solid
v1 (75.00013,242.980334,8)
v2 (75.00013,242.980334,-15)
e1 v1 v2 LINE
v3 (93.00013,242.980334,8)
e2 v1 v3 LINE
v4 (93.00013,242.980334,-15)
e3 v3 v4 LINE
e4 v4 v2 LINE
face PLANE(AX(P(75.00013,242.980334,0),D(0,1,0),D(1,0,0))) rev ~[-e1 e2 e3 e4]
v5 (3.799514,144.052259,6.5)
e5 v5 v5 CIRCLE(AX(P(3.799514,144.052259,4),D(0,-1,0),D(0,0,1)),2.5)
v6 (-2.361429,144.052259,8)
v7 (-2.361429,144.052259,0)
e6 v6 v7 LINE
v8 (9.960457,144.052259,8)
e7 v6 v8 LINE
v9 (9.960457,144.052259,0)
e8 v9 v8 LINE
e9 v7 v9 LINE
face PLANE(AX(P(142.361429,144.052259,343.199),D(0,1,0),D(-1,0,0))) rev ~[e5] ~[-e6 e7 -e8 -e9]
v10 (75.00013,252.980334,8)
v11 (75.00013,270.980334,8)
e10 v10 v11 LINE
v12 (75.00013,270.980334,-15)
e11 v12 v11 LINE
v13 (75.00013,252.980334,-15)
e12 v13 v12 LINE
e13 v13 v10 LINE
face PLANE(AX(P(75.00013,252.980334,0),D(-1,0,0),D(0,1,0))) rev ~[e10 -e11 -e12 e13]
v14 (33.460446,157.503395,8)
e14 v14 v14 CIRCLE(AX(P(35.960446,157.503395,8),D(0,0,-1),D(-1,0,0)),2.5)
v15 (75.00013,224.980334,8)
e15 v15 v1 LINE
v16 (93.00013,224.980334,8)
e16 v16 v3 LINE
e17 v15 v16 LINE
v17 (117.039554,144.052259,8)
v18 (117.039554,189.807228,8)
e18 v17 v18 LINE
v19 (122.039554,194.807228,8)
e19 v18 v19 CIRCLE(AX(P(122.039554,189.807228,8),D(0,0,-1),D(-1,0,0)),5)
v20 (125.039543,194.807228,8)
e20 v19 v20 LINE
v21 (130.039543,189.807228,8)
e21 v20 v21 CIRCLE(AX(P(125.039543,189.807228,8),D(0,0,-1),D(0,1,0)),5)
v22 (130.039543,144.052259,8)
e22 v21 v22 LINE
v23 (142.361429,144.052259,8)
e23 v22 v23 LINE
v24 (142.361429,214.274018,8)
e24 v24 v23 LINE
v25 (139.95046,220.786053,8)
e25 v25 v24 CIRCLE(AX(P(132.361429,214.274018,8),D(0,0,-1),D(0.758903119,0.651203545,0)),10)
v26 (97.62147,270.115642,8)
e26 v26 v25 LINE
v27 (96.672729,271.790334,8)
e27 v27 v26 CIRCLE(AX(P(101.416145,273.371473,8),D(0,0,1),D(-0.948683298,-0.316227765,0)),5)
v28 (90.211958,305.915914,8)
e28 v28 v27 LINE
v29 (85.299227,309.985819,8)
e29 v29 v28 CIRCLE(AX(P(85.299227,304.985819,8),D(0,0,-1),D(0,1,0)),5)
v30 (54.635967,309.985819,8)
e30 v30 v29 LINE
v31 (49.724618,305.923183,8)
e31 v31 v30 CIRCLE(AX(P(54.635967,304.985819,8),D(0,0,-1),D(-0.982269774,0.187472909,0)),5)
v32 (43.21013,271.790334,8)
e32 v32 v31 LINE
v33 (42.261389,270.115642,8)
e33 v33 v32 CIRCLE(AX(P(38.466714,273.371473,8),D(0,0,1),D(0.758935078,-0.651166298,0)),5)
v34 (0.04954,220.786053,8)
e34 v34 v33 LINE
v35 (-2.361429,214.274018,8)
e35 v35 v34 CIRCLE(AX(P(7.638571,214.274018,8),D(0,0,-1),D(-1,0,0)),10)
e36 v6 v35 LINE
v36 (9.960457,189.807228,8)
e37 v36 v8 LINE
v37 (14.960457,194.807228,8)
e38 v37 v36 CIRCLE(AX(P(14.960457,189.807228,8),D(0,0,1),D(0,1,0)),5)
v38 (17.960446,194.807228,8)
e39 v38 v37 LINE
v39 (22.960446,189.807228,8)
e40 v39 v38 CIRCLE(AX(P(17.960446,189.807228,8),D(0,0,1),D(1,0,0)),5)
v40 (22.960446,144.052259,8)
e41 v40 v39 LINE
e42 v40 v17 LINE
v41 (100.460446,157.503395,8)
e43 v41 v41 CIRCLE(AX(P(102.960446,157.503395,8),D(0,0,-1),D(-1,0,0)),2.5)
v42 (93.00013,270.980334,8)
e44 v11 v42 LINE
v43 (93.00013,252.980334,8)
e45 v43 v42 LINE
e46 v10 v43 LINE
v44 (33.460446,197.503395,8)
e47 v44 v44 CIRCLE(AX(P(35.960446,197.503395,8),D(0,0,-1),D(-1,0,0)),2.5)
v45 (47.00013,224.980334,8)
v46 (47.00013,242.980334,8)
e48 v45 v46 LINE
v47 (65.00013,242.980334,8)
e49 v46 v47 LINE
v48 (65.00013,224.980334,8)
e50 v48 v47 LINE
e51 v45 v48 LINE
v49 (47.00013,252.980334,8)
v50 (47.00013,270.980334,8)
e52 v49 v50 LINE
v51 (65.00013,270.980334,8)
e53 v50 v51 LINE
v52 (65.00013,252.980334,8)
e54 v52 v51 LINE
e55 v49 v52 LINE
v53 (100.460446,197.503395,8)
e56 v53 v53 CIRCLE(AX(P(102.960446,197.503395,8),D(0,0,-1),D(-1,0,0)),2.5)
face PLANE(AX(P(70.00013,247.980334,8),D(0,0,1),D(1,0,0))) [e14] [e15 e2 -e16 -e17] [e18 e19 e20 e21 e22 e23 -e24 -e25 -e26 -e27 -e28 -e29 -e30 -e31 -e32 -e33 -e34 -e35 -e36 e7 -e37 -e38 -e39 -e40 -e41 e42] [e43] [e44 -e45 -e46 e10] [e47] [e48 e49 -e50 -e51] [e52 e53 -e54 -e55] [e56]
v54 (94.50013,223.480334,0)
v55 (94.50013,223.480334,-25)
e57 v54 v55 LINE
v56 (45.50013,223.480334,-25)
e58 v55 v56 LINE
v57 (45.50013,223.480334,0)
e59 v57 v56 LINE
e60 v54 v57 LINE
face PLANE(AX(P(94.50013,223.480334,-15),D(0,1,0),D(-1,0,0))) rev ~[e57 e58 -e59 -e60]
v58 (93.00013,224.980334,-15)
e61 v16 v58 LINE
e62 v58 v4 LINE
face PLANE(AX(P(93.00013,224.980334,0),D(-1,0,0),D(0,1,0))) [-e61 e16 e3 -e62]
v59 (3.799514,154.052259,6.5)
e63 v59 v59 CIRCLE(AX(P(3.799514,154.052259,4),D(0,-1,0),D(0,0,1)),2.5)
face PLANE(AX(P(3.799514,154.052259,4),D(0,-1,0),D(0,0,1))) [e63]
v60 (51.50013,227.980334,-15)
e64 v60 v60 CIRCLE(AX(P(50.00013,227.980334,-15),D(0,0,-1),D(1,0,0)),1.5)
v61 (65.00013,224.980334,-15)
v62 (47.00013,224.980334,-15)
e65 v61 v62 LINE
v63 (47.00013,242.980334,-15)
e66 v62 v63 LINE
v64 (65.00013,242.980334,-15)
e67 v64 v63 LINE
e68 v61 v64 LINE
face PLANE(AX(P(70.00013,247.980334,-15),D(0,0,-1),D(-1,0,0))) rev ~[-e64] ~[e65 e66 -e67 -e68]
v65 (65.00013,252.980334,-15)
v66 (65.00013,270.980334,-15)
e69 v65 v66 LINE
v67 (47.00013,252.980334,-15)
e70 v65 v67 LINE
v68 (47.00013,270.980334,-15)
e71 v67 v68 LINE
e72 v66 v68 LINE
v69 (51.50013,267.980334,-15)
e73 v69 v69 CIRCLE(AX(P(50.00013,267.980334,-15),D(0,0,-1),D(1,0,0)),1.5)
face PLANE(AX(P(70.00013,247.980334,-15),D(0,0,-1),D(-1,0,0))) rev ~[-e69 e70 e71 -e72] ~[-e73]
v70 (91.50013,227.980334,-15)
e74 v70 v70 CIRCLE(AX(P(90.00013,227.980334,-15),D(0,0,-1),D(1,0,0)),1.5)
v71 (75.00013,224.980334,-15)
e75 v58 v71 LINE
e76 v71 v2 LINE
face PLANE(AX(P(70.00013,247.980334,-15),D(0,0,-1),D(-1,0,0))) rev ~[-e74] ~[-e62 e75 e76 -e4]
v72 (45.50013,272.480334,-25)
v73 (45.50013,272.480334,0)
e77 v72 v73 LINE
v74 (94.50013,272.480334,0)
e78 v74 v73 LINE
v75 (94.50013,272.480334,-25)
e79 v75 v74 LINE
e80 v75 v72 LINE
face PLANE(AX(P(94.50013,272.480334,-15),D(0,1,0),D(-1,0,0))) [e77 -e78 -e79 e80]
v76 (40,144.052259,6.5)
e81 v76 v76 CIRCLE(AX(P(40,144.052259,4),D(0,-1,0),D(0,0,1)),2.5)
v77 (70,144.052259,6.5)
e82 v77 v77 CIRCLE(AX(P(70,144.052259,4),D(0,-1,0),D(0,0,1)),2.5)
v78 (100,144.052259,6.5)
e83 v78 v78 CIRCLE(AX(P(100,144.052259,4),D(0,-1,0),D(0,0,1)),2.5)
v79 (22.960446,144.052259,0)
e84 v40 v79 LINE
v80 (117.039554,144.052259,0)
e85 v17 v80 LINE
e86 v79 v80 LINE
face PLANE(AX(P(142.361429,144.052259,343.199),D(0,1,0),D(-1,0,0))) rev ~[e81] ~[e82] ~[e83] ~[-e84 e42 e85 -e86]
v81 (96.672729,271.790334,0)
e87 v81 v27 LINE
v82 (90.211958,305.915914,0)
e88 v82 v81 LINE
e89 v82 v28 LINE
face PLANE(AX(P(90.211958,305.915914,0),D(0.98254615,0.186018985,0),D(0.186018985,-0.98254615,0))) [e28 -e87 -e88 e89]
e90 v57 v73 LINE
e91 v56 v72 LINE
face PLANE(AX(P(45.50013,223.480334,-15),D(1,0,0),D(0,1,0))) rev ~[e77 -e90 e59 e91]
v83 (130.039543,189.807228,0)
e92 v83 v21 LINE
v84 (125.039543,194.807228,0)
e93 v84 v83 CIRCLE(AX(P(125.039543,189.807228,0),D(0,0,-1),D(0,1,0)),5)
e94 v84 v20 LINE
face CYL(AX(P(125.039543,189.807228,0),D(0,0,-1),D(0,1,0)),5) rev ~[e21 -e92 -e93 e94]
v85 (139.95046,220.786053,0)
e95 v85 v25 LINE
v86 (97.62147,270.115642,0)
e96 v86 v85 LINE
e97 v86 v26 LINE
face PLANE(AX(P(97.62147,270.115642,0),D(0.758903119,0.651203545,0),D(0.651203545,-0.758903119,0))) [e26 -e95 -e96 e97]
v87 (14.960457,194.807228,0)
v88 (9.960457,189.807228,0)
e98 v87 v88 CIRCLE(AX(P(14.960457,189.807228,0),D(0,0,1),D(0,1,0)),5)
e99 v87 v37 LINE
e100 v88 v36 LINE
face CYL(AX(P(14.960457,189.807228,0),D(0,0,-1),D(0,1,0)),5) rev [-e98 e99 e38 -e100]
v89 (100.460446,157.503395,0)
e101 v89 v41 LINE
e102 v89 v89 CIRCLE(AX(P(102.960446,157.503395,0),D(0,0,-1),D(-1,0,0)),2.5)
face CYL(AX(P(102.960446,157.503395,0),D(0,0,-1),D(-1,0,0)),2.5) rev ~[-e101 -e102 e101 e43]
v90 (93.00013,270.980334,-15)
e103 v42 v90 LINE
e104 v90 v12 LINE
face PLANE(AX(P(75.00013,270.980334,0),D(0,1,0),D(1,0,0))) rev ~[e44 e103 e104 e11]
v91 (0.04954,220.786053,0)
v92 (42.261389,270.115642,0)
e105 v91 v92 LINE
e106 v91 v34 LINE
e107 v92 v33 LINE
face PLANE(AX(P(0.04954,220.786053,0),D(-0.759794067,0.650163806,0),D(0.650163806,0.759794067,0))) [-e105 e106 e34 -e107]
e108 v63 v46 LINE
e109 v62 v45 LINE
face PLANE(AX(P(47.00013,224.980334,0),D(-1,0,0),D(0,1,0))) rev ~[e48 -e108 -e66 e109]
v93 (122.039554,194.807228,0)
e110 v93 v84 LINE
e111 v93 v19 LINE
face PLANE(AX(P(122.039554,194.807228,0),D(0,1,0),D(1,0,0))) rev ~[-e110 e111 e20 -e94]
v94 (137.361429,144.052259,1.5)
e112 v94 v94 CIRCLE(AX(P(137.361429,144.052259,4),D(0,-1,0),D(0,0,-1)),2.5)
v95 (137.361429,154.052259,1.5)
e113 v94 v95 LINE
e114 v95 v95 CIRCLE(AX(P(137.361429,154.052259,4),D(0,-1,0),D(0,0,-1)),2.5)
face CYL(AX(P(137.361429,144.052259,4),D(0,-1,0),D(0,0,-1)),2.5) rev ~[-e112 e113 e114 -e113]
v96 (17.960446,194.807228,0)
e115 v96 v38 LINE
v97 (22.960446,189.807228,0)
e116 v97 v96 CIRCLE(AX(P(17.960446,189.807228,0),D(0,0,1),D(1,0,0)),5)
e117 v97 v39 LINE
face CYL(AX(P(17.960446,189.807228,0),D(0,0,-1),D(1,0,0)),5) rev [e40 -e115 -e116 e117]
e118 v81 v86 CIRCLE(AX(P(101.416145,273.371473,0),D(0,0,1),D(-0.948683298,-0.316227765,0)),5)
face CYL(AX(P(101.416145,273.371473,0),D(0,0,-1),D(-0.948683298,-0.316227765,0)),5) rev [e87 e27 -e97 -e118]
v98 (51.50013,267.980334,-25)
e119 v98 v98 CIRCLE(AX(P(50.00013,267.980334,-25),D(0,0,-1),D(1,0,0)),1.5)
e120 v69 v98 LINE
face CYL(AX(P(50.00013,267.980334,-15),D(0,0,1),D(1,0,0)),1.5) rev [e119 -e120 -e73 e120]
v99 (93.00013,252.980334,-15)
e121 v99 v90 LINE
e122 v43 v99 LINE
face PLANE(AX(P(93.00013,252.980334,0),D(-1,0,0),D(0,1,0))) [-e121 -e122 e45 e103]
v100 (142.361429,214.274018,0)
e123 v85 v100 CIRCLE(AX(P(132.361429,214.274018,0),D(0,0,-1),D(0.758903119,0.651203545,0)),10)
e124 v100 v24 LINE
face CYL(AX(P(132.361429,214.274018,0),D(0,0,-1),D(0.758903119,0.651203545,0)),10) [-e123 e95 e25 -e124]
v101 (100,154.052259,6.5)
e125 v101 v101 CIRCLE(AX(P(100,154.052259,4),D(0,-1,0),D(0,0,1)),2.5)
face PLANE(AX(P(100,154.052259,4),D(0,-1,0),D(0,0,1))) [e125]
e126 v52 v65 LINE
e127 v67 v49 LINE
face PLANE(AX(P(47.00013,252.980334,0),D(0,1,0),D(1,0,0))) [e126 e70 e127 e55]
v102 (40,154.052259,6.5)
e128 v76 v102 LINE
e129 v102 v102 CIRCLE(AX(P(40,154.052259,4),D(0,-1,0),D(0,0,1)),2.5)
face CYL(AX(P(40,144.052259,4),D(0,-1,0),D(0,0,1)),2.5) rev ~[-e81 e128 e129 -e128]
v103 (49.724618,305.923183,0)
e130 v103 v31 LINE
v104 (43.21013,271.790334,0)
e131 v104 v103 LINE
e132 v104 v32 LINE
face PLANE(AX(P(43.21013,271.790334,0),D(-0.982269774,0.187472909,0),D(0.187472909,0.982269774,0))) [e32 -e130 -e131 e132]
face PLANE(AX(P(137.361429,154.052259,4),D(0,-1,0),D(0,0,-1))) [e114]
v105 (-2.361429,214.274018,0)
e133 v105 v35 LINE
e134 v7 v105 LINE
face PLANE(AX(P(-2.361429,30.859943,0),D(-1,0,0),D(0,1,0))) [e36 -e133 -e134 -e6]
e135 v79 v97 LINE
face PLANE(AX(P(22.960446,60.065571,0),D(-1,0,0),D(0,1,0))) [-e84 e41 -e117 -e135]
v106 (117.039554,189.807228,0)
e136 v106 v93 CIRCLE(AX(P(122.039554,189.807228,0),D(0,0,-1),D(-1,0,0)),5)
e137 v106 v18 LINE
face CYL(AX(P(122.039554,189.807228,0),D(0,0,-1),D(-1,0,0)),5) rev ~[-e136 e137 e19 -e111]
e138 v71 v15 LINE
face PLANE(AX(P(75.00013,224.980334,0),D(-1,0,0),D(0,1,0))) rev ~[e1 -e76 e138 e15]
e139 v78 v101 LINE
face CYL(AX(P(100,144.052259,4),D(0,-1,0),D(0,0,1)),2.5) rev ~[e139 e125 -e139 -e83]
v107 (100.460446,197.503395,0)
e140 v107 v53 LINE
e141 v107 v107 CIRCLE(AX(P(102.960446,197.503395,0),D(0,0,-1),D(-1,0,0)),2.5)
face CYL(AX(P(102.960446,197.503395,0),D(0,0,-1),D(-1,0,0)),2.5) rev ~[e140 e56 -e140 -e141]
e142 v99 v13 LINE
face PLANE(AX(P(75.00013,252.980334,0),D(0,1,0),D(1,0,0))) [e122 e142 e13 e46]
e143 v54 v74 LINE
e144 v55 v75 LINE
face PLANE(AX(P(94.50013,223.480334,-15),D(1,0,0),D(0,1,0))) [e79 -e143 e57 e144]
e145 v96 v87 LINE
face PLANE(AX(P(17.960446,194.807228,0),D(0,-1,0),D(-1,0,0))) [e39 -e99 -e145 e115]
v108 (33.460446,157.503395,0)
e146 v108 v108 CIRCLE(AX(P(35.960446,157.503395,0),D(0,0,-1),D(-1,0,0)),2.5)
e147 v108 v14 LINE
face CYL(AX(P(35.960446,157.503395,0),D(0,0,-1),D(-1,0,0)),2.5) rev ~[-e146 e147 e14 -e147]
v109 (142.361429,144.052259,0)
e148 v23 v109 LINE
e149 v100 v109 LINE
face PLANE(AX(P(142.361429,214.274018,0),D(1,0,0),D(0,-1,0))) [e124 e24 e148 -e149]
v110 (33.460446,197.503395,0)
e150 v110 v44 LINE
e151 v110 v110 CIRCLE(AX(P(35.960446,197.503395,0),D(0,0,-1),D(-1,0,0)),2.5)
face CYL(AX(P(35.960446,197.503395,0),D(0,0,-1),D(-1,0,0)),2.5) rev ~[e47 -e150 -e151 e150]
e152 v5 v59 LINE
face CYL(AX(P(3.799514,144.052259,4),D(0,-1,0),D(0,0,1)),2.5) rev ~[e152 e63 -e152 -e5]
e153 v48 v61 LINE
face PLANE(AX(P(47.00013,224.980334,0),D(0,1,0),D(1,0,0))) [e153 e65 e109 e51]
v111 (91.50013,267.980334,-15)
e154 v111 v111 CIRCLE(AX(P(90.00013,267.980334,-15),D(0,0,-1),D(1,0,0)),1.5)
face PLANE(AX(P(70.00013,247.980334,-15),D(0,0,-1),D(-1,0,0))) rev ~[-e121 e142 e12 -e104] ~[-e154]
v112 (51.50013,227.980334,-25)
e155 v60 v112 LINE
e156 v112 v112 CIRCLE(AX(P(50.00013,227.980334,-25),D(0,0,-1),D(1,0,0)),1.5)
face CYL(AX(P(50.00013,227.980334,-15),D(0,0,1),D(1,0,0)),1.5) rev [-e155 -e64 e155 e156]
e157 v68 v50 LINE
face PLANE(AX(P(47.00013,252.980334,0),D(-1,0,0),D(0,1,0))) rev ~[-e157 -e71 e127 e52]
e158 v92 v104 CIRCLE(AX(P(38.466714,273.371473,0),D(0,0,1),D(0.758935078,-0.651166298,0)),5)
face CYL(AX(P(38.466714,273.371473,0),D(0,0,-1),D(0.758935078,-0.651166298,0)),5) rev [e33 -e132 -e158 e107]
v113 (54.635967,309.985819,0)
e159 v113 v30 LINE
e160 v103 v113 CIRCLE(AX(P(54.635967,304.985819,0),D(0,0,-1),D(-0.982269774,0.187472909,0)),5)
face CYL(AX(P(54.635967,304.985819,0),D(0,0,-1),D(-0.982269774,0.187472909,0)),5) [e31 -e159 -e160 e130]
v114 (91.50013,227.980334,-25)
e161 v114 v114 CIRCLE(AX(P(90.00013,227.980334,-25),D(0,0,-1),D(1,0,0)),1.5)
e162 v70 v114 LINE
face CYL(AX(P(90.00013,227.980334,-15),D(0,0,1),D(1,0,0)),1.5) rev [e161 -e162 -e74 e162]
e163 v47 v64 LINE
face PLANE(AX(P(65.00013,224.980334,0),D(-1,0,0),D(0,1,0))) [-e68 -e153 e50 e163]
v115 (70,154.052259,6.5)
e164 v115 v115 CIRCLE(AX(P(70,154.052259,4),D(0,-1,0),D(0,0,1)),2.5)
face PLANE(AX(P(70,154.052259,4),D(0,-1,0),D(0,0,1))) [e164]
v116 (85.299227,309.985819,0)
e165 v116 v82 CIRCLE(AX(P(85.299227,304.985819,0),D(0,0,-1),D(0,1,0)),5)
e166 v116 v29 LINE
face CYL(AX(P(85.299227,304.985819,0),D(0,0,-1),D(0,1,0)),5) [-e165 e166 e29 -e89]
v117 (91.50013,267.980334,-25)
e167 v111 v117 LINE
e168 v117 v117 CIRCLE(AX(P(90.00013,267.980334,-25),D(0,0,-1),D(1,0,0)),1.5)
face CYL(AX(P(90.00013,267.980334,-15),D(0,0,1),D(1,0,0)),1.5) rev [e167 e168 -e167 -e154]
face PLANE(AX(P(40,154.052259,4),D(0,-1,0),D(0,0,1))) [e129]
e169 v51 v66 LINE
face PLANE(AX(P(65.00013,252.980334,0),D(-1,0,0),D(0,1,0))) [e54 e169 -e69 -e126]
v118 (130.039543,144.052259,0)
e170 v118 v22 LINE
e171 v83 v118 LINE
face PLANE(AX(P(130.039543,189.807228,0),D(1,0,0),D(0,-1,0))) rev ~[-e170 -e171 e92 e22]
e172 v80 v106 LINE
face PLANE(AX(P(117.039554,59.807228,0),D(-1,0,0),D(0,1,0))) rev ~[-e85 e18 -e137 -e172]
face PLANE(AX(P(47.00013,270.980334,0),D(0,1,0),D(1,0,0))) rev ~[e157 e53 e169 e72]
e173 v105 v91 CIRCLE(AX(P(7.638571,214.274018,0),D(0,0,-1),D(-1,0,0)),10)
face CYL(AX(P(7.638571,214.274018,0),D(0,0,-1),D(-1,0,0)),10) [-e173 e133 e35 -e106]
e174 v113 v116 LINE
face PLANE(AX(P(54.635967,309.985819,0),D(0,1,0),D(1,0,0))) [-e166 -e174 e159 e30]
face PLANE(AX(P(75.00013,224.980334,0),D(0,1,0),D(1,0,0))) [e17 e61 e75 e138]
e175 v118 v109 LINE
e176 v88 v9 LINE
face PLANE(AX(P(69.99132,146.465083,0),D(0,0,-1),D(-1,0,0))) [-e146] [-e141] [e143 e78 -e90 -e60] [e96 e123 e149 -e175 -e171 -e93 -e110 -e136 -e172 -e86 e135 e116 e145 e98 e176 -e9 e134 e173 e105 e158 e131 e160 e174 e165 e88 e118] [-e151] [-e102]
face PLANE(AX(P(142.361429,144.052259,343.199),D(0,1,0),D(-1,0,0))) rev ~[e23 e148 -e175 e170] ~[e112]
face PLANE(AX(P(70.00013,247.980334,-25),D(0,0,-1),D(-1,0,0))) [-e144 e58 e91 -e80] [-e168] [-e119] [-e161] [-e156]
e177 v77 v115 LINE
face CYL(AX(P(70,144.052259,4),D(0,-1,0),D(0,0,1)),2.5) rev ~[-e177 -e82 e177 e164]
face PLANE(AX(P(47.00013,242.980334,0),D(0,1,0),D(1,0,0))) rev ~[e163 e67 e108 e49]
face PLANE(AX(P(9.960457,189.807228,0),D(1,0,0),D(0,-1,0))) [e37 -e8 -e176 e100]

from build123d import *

# Parameters (mm, degrees)
BOSS_EXTRUDE1_DEPTH    = 8
SPLIT1_SURFACE_1_BACK  = 343.199
SPLIT1_SURFACE_1_DEPTH = 686.398
SPLIT1_SURFACE_2_BACK  = 343.199
SPLIT1_SURFACE_2_DEPTH = 686.398
SKETCH5_R              = 2.5
CUT_EXTRUDE6_DEPTH     = 5.2
SKETCH4_R              = 2.5
CUT_EXTRUDE7_DEPTH     = 10
SKETCH6_R              = 1.5
CUT_EXTRUDE8_DEPTH     = 342.206659287
SKETCH7_W              = 49
SKETCH7_H              = 49
SKETCH7_W_2            = 18
SKETCH7_H_2            = 18
BOSS_EXTRUDE2_DEPTH    = 15
SKETCH8_W              = 49
SKETCH8_H              = 49
SKETCH8_R              = 1.5
BOSS_EXTRUDE3_DEPTH    = 10
SKETCH9_W              = 49
SKETCH9_H              = 49
CUT_EXTRUDE9_DEPTH     = 8
SKETCH10_W             = 49
SKETCH10_H             = 49
SKETCH10_W_2           = 18
SKETCH10_H_2           = 18
BOSS_EXTRUDE4_DEPTH    = 8
SKETCH12_R             = 2.5
CUT_EXTRUDE10_DEPTH    = 343.027753759


with BuildPart() as part:
    # Sketch1 → Boss-Extrude1 (new body)
    with BuildSketch(Plane.XY):
        with BuildLine():
            Line((70, 309.985818768), (85.299227191, 309.985818768))
            ThreePointArc((85.299227191, 309.985818768), (88.489017574, 308.836174247), (90.211957942, 305.915913694))
            Line((90.211957942, 305.915913694), (96.672728921, 271.790334282))
            ThreePointArc((96.672728921, 271.790334282), (97.06575438, 270.906904614), (97.621470019, 270.115641625))
            Line((97.621470019, 270.115641625), (139.950460317, 220.786053348))
            ThreePointArc((139.950460317, 220.786053348), (141.739336996, 217.746026552), (142.361429131, 214.274017901))
            Line((142.361429131, 214.274017901), (142.361429131, 30.859943174))
            ThreePointArc((142.361429131, 30.859943174), (140.896963037, 27.324409268), (137.361429131, 25.859943174))
            Line((137.361429131, 25.859943174), (114.717190871, 25.782318449))
            ThreePointArc((114.717190871, 25.782318449), (112.681998989, 25.341726514), (111.002773989, 24.110332733))
            Line((111.002773989, 24.110332733), (89.38285929, 0))
            Line((89.38285929, 0), (50.5, 0))
            Line((50.5, 0), (28.997226011, 24.110332733))
            ThreePointArc((28.997226011, 24.110332733), (27.318001011, 25.341726514), (25.282809129, 25.782318449))
            Line((25.282809129, 25.782318449), (2.638570869, 25.859943174))
            ThreePointArc((2.638570869, 25.859943174), (-0.896963037, 27.324409268), (-2.361429131, 30.859943174))
            Line((-2.361429131, 30.859943174), (-2.361429131, 214.274017901))
            ThreePointArc((-2.361429131, 214.274017901), (-1.739336996, 217.746026552), (0.049539683, 220.786053348))
            Line((0.049539683, 220.786053348), (42.261389271, 270.115641625))
            ThreePointArc((42.261389271, 270.115641625), (42.81710491, 270.906904614), (43.210130369, 271.790334282))
            Line((43.210130369, 271.790334282), (49.724618218, 305.923183314))
            ThreePointArc((49.724618218, 305.923183314), (51.449026762, 308.838533573), (54.635967087, 309.985818768))
            Line((54.635967087, 309.985818768), (70, 309.985818768))
        make_face()
        with BuildLine():
            Line((15.218798766, 54.807228462), (17.702103505, 54.807228462))
            ThreePointArc((17.702103505, 54.807228462), (21.420312934, 56.347361236), (22.960445707, 60.065570665))
            Line((22.960445707, 60.065570665), (22.960445707, 189.807228462))
            ThreePointArc((22.960445707, 189.807228462), (21.495979613, 193.342762368), (17.960445707, 194.807228462))
            Line((17.960445707, 194.807228462), (14.960456564, 194.807228462))
            ThreePointArc((14.960456564, 194.807228462), (11.424922658, 193.342762368), (9.960456564, 189.807228462))
            Line((9.960456564, 189.807228462), (9.960456564, 60.065570665))
            ThreePointArc((9.960456564, 60.065570665), (11.500589337, 56.347361236), (15.218798766, 54.807228462))
        make_face(mode=Mode.SUBTRACT)
        with BuildLine():
            Line((125.039543436, 54.807228462), (122.039554293, 54.807228462))
            ThreePointArc((122.039554293, 54.807228462), (118.504020387, 56.271694556), (117.039554293, 59.807228462))
            Line((117.039554293, 59.807228462), (117.039554293, 189.807228462))
            ThreePointArc((117.039554293, 189.807228462), (118.504020387, 193.342762368), (122.039554293, 194.807228462))
            Line((122.039554293, 194.807228462), (125.039543436, 194.807228462))
            ThreePointArc((125.039543436, 194.807228462), (128.575077342, 193.342762368), (130.039543436, 189.807228462))
            Line((130.039543436, 189.807228462), (130.039543436, 59.807228462))
            ThreePointArc((130.039543436, 59.807228462), (128.575077342, 56.271694556), (125.039543436, 54.807228462))
        make_face(mode=Mode.SUBTRACT)
    extrude(amount=BOSS_EXTRUDE1_DEPTH)


with BuildPart() as body_2:
    # Split1: the piece behind the surface
    add(part.part)
    # Split1 surface: a surface, the sketch's curves swept straight by 686.398 mm
    with BuildLine(Plane(origin=(0, 0, 0), x_dir=(-1, 0, 0), z_dir=(0, 0, -1)).offset(-SPLIT1_SURFACE_1_BACK), mode=Mode.PRIVATE) as split1_surface_1_path:
        Line((-142.361429131, 144.05225917), (2.361429131, 144.05225917))
    split1_surface_1 = Shell.extrude(split1_surface_1_path.wire(), (0 * SPLIT1_SURFACE_1_DEPTH, 0 * SPLIT1_SURFACE_1_DEPTH, -1 * SPLIT1_SURFACE_1_DEPTH))
    split(bisect_by=split1_surface_1, keep=Keep.BOTTOM)

    # Sketch5 → Cut-Extrude6 (cut)
    with BuildSketch(Plane(origin=(0, 144.05225917, -115.359943174), x_dir=(1, 0, 0), z_dir=(0, -1, 0))):
        with Locations(Location((70, 119.359943174, 0), (0, 0, 270))):
            Circle(SKETCH5_R)
        with Locations(Location((40, 119.359943174, 0), (0, 0, 270))):
            Circle(SKETCH5_R)
        with Locations(Location((2.638570869, 119.359943174, 0), (0, 0, 270))):
            Circle(SKETCH5_R)
    extrude(amount=CUT_EXTRUDE6_DEPTH, mode=Mode.SUBTRACT)


with BuildPart() as part_1:
    add(part.part)

    # Split1: split by a surface, the side it looks to stays
    # Split1 surface: a surface, the sketch's curves swept straight by 686.398 mm
    with BuildLine(Plane(origin=(0, 0, 0), x_dir=(-1, 0, 0), z_dir=(0, 0, -1)).offset(-SPLIT1_SURFACE_2_BACK), mode=Mode.PRIVATE) as split1_surface_2_path:
        Line((-142.361429131, 144.05225917), (2.361429131, 144.05225917))
    split1_surface_2 = Shell.extrude(split1_surface_2_path.wire(), (0 * SPLIT1_SURFACE_2_DEPTH, 0 * SPLIT1_SURFACE_2_DEPTH, -1 * SPLIT1_SURFACE_2_DEPTH))
    split(bisect_by=split1_surface_2, keep=Keep.TOP)

    # Sketch4 → Cut-Extrude7 (cut)
    with BuildSketch(Plane(origin=(0, 144.05225917, 0), x_dir=(-1, 0, 0), z_dir=(0, -1, 0))):
        with Locations(Location((-70, -4, 0), (0, 0, 270))):
            Circle(SKETCH4_R)
        with Locations(Location((-40, -4, 0), (0, 0, 270))):
            Circle(SKETCH4_R)
        with Locations(Location((-100, -4, 0), (0, 0, 270))):
            Circle(SKETCH4_R)
        with Locations(Location((-137.361429131, -4, 0), (0, 0, 90))):
            Circle(SKETCH4_R)
        with Locations(Location((-3.799513716, -4, 0), (0, 0, 270))):
            Circle(SKETCH4_R)
    extrude(amount=-CUT_EXTRUDE7_DEPTH, mode=Mode.SUBTRACT)

    # Sketch6 → Cut-Extrude8 (cut, through all)
    with BuildSketch(Plane.XY.offset(8)):
        with Locations((50.000130369, 267.980334282)):
            Circle(SKETCH6_R)
        with Locations((90.000130369, 267.980334282)):
            Circle(SKETCH6_R)
        with Locations((90.000130369, 227.980334282)):
            Circle(SKETCH6_R)
        with Locations((50.000130369, 227.980334282)):
            Circle(SKETCH6_R)
    extrude(amount=-CUT_EXTRUDE8_DEPTH, mode=Mode.SUBTRACT)

    # Sketch7 → Boss-Extrude2 (add)
    with BuildSketch(Plane(origin=(0, 0, 0), x_dir=(-1, 0, 0), z_dir=(0, 0, -1))):
        with Locations((-70.000130369, 247.980334282)):
            Rectangle(SKETCH7_W, SKETCH7_H)
        with Locations((-56.000130369, 261.980334282)):
            Rectangle(SKETCH7_W_2, SKETCH7_H_2, mode=Mode.SUBTRACT)
        with Locations((-84.000130369, 261.980334282)):
            Rectangle(SKETCH7_W_2, SKETCH7_H_2, mode=Mode.SUBTRACT)
        with Locations((-84.000130369, 233.980334282)):
            Rectangle(SKETCH7_W_2, SKETCH7_H_2, mode=Mode.SUBTRACT)
        with Locations((-56.000130369, 233.980334282)):
            Rectangle(SKETCH7_W_2, SKETCH7_H_2, mode=Mode.SUBTRACT)
    extrude(amount=BOSS_EXTRUDE2_DEPTH)

    # Sketch8 → Boss-Extrude3 (add)
    with BuildSketch(Plane(origin=(0, 0, -15), x_dir=(-1, 0, 0), z_dir=(0, 0, -1))):
        with Locations((-70.000130369, 247.980334282)):
            Rectangle(SKETCH8_W, SKETCH8_H)
        with Locations(Location((-50.000130369, 267.980334282, 0), (0, 0, 180))):
            Circle(SKETCH8_R, mode=Mode.SUBTRACT)
        with Locations(Location((-90.000130369, 267.980334282, 0), (0, 0, 180))):
            Circle(SKETCH8_R, mode=Mode.SUBTRACT)
        with Locations(Location((-50.000130369, 227.980334282, 0), (0, 0, 180))):
            Circle(SKETCH8_R, mode=Mode.SUBTRACT)
        with Locations(Location((-90.000130369, 227.980334282, 0), (0, 0, 180))):
            Circle(SKETCH8_R, mode=Mode.SUBTRACT)
    extrude(amount=BOSS_EXTRUDE3_DEPTH)

    # Sketch9 → Cut-Extrude9 (cut)
    with BuildSketch(Plane.XY.offset(8)):
        with Locations((70.000130369, 247.980334282)):
            Rectangle(SKETCH9_W, SKETCH9_H)
    extrude(amount=-CUT_EXTRUDE9_DEPTH, mode=Mode.SUBTRACT)


with BuildPart() as cut_extrude9_piece_1:
    # of the separate pieces the step leaves, piece 1, a body of its own (cut_extrude9_pieces)
    add(part_1.part.solids().sort_by_distance((49.724618218, 305.923183314, 0))[0])



with BuildPart() as cut_extrude9_piece_2:
    # of the separate pieces the step leaves, piece 2, a body of its own (cut_extrude9_pieces)
    add(part_1.part.solids().sort_by_distance((45.500130369, 223.480334282, -25))[0])


with BuildPart() as cut_extrude9_piece_1_1:
    add(cut_extrude9_piece_1.part)

    add(cut_extrude9_piece_2.part)  # Boss-Extrude4 merges Cut-Extrude9 piece 2
    # Sketch10 → Boss-Extrude4 (add)
    with BuildSketch(Plane.XY):
        with Locations((70.000130369, 247.980334282)):
            Rectangle(SKETCH10_W, SKETCH10_H)
        with Locations((84.000130369, 261.980334282)):
            Rectangle(SKETCH10_W_2, SKETCH10_H_2, mode=Mode.SUBTRACT)
        with Locations((56.000130369, 261.980334282)):
            Rectangle(SKETCH10_W_2, SKETCH10_H_2, mode=Mode.SUBTRACT)
        with Locations((56.000130369, 233.980334282)):
            Rectangle(SKETCH10_W_2, SKETCH10_H_2, mode=Mode.SUBTRACT)
        with Locations((84.000130369, 233.980334282)):
            Rectangle(SKETCH10_W_2, SKETCH10_H_2, mode=Mode.SUBTRACT)
    extrude(amount=BOSS_EXTRUDE4_DEPTH)

    # Sketch12 → Cut-Extrude10 (cut, through all)
    with BuildSketch(Plane(origin=(0, 0, 0), x_dir=(-1, 0, 0), z_dir=(0, 0, -1))):
        with Locations((-102.960445707, 197.503395095)):
            Circle(SKETCH12_R)
        with Locations((-35.960445707, 197.503395095)):
            Circle(SKETCH12_R)
        with Locations((-35.960445707, 157.503395095)):
            Circle(SKETCH12_R)
        with Locations((-102.960445707, 157.503395095)):
            Circle(SKETCH12_R)
    extrude(amount=-CUT_EXTRUDE10_DEPTH, mode=Mode.SUBTRACT)


solid = cut_extrude9_piece_1_1.part
